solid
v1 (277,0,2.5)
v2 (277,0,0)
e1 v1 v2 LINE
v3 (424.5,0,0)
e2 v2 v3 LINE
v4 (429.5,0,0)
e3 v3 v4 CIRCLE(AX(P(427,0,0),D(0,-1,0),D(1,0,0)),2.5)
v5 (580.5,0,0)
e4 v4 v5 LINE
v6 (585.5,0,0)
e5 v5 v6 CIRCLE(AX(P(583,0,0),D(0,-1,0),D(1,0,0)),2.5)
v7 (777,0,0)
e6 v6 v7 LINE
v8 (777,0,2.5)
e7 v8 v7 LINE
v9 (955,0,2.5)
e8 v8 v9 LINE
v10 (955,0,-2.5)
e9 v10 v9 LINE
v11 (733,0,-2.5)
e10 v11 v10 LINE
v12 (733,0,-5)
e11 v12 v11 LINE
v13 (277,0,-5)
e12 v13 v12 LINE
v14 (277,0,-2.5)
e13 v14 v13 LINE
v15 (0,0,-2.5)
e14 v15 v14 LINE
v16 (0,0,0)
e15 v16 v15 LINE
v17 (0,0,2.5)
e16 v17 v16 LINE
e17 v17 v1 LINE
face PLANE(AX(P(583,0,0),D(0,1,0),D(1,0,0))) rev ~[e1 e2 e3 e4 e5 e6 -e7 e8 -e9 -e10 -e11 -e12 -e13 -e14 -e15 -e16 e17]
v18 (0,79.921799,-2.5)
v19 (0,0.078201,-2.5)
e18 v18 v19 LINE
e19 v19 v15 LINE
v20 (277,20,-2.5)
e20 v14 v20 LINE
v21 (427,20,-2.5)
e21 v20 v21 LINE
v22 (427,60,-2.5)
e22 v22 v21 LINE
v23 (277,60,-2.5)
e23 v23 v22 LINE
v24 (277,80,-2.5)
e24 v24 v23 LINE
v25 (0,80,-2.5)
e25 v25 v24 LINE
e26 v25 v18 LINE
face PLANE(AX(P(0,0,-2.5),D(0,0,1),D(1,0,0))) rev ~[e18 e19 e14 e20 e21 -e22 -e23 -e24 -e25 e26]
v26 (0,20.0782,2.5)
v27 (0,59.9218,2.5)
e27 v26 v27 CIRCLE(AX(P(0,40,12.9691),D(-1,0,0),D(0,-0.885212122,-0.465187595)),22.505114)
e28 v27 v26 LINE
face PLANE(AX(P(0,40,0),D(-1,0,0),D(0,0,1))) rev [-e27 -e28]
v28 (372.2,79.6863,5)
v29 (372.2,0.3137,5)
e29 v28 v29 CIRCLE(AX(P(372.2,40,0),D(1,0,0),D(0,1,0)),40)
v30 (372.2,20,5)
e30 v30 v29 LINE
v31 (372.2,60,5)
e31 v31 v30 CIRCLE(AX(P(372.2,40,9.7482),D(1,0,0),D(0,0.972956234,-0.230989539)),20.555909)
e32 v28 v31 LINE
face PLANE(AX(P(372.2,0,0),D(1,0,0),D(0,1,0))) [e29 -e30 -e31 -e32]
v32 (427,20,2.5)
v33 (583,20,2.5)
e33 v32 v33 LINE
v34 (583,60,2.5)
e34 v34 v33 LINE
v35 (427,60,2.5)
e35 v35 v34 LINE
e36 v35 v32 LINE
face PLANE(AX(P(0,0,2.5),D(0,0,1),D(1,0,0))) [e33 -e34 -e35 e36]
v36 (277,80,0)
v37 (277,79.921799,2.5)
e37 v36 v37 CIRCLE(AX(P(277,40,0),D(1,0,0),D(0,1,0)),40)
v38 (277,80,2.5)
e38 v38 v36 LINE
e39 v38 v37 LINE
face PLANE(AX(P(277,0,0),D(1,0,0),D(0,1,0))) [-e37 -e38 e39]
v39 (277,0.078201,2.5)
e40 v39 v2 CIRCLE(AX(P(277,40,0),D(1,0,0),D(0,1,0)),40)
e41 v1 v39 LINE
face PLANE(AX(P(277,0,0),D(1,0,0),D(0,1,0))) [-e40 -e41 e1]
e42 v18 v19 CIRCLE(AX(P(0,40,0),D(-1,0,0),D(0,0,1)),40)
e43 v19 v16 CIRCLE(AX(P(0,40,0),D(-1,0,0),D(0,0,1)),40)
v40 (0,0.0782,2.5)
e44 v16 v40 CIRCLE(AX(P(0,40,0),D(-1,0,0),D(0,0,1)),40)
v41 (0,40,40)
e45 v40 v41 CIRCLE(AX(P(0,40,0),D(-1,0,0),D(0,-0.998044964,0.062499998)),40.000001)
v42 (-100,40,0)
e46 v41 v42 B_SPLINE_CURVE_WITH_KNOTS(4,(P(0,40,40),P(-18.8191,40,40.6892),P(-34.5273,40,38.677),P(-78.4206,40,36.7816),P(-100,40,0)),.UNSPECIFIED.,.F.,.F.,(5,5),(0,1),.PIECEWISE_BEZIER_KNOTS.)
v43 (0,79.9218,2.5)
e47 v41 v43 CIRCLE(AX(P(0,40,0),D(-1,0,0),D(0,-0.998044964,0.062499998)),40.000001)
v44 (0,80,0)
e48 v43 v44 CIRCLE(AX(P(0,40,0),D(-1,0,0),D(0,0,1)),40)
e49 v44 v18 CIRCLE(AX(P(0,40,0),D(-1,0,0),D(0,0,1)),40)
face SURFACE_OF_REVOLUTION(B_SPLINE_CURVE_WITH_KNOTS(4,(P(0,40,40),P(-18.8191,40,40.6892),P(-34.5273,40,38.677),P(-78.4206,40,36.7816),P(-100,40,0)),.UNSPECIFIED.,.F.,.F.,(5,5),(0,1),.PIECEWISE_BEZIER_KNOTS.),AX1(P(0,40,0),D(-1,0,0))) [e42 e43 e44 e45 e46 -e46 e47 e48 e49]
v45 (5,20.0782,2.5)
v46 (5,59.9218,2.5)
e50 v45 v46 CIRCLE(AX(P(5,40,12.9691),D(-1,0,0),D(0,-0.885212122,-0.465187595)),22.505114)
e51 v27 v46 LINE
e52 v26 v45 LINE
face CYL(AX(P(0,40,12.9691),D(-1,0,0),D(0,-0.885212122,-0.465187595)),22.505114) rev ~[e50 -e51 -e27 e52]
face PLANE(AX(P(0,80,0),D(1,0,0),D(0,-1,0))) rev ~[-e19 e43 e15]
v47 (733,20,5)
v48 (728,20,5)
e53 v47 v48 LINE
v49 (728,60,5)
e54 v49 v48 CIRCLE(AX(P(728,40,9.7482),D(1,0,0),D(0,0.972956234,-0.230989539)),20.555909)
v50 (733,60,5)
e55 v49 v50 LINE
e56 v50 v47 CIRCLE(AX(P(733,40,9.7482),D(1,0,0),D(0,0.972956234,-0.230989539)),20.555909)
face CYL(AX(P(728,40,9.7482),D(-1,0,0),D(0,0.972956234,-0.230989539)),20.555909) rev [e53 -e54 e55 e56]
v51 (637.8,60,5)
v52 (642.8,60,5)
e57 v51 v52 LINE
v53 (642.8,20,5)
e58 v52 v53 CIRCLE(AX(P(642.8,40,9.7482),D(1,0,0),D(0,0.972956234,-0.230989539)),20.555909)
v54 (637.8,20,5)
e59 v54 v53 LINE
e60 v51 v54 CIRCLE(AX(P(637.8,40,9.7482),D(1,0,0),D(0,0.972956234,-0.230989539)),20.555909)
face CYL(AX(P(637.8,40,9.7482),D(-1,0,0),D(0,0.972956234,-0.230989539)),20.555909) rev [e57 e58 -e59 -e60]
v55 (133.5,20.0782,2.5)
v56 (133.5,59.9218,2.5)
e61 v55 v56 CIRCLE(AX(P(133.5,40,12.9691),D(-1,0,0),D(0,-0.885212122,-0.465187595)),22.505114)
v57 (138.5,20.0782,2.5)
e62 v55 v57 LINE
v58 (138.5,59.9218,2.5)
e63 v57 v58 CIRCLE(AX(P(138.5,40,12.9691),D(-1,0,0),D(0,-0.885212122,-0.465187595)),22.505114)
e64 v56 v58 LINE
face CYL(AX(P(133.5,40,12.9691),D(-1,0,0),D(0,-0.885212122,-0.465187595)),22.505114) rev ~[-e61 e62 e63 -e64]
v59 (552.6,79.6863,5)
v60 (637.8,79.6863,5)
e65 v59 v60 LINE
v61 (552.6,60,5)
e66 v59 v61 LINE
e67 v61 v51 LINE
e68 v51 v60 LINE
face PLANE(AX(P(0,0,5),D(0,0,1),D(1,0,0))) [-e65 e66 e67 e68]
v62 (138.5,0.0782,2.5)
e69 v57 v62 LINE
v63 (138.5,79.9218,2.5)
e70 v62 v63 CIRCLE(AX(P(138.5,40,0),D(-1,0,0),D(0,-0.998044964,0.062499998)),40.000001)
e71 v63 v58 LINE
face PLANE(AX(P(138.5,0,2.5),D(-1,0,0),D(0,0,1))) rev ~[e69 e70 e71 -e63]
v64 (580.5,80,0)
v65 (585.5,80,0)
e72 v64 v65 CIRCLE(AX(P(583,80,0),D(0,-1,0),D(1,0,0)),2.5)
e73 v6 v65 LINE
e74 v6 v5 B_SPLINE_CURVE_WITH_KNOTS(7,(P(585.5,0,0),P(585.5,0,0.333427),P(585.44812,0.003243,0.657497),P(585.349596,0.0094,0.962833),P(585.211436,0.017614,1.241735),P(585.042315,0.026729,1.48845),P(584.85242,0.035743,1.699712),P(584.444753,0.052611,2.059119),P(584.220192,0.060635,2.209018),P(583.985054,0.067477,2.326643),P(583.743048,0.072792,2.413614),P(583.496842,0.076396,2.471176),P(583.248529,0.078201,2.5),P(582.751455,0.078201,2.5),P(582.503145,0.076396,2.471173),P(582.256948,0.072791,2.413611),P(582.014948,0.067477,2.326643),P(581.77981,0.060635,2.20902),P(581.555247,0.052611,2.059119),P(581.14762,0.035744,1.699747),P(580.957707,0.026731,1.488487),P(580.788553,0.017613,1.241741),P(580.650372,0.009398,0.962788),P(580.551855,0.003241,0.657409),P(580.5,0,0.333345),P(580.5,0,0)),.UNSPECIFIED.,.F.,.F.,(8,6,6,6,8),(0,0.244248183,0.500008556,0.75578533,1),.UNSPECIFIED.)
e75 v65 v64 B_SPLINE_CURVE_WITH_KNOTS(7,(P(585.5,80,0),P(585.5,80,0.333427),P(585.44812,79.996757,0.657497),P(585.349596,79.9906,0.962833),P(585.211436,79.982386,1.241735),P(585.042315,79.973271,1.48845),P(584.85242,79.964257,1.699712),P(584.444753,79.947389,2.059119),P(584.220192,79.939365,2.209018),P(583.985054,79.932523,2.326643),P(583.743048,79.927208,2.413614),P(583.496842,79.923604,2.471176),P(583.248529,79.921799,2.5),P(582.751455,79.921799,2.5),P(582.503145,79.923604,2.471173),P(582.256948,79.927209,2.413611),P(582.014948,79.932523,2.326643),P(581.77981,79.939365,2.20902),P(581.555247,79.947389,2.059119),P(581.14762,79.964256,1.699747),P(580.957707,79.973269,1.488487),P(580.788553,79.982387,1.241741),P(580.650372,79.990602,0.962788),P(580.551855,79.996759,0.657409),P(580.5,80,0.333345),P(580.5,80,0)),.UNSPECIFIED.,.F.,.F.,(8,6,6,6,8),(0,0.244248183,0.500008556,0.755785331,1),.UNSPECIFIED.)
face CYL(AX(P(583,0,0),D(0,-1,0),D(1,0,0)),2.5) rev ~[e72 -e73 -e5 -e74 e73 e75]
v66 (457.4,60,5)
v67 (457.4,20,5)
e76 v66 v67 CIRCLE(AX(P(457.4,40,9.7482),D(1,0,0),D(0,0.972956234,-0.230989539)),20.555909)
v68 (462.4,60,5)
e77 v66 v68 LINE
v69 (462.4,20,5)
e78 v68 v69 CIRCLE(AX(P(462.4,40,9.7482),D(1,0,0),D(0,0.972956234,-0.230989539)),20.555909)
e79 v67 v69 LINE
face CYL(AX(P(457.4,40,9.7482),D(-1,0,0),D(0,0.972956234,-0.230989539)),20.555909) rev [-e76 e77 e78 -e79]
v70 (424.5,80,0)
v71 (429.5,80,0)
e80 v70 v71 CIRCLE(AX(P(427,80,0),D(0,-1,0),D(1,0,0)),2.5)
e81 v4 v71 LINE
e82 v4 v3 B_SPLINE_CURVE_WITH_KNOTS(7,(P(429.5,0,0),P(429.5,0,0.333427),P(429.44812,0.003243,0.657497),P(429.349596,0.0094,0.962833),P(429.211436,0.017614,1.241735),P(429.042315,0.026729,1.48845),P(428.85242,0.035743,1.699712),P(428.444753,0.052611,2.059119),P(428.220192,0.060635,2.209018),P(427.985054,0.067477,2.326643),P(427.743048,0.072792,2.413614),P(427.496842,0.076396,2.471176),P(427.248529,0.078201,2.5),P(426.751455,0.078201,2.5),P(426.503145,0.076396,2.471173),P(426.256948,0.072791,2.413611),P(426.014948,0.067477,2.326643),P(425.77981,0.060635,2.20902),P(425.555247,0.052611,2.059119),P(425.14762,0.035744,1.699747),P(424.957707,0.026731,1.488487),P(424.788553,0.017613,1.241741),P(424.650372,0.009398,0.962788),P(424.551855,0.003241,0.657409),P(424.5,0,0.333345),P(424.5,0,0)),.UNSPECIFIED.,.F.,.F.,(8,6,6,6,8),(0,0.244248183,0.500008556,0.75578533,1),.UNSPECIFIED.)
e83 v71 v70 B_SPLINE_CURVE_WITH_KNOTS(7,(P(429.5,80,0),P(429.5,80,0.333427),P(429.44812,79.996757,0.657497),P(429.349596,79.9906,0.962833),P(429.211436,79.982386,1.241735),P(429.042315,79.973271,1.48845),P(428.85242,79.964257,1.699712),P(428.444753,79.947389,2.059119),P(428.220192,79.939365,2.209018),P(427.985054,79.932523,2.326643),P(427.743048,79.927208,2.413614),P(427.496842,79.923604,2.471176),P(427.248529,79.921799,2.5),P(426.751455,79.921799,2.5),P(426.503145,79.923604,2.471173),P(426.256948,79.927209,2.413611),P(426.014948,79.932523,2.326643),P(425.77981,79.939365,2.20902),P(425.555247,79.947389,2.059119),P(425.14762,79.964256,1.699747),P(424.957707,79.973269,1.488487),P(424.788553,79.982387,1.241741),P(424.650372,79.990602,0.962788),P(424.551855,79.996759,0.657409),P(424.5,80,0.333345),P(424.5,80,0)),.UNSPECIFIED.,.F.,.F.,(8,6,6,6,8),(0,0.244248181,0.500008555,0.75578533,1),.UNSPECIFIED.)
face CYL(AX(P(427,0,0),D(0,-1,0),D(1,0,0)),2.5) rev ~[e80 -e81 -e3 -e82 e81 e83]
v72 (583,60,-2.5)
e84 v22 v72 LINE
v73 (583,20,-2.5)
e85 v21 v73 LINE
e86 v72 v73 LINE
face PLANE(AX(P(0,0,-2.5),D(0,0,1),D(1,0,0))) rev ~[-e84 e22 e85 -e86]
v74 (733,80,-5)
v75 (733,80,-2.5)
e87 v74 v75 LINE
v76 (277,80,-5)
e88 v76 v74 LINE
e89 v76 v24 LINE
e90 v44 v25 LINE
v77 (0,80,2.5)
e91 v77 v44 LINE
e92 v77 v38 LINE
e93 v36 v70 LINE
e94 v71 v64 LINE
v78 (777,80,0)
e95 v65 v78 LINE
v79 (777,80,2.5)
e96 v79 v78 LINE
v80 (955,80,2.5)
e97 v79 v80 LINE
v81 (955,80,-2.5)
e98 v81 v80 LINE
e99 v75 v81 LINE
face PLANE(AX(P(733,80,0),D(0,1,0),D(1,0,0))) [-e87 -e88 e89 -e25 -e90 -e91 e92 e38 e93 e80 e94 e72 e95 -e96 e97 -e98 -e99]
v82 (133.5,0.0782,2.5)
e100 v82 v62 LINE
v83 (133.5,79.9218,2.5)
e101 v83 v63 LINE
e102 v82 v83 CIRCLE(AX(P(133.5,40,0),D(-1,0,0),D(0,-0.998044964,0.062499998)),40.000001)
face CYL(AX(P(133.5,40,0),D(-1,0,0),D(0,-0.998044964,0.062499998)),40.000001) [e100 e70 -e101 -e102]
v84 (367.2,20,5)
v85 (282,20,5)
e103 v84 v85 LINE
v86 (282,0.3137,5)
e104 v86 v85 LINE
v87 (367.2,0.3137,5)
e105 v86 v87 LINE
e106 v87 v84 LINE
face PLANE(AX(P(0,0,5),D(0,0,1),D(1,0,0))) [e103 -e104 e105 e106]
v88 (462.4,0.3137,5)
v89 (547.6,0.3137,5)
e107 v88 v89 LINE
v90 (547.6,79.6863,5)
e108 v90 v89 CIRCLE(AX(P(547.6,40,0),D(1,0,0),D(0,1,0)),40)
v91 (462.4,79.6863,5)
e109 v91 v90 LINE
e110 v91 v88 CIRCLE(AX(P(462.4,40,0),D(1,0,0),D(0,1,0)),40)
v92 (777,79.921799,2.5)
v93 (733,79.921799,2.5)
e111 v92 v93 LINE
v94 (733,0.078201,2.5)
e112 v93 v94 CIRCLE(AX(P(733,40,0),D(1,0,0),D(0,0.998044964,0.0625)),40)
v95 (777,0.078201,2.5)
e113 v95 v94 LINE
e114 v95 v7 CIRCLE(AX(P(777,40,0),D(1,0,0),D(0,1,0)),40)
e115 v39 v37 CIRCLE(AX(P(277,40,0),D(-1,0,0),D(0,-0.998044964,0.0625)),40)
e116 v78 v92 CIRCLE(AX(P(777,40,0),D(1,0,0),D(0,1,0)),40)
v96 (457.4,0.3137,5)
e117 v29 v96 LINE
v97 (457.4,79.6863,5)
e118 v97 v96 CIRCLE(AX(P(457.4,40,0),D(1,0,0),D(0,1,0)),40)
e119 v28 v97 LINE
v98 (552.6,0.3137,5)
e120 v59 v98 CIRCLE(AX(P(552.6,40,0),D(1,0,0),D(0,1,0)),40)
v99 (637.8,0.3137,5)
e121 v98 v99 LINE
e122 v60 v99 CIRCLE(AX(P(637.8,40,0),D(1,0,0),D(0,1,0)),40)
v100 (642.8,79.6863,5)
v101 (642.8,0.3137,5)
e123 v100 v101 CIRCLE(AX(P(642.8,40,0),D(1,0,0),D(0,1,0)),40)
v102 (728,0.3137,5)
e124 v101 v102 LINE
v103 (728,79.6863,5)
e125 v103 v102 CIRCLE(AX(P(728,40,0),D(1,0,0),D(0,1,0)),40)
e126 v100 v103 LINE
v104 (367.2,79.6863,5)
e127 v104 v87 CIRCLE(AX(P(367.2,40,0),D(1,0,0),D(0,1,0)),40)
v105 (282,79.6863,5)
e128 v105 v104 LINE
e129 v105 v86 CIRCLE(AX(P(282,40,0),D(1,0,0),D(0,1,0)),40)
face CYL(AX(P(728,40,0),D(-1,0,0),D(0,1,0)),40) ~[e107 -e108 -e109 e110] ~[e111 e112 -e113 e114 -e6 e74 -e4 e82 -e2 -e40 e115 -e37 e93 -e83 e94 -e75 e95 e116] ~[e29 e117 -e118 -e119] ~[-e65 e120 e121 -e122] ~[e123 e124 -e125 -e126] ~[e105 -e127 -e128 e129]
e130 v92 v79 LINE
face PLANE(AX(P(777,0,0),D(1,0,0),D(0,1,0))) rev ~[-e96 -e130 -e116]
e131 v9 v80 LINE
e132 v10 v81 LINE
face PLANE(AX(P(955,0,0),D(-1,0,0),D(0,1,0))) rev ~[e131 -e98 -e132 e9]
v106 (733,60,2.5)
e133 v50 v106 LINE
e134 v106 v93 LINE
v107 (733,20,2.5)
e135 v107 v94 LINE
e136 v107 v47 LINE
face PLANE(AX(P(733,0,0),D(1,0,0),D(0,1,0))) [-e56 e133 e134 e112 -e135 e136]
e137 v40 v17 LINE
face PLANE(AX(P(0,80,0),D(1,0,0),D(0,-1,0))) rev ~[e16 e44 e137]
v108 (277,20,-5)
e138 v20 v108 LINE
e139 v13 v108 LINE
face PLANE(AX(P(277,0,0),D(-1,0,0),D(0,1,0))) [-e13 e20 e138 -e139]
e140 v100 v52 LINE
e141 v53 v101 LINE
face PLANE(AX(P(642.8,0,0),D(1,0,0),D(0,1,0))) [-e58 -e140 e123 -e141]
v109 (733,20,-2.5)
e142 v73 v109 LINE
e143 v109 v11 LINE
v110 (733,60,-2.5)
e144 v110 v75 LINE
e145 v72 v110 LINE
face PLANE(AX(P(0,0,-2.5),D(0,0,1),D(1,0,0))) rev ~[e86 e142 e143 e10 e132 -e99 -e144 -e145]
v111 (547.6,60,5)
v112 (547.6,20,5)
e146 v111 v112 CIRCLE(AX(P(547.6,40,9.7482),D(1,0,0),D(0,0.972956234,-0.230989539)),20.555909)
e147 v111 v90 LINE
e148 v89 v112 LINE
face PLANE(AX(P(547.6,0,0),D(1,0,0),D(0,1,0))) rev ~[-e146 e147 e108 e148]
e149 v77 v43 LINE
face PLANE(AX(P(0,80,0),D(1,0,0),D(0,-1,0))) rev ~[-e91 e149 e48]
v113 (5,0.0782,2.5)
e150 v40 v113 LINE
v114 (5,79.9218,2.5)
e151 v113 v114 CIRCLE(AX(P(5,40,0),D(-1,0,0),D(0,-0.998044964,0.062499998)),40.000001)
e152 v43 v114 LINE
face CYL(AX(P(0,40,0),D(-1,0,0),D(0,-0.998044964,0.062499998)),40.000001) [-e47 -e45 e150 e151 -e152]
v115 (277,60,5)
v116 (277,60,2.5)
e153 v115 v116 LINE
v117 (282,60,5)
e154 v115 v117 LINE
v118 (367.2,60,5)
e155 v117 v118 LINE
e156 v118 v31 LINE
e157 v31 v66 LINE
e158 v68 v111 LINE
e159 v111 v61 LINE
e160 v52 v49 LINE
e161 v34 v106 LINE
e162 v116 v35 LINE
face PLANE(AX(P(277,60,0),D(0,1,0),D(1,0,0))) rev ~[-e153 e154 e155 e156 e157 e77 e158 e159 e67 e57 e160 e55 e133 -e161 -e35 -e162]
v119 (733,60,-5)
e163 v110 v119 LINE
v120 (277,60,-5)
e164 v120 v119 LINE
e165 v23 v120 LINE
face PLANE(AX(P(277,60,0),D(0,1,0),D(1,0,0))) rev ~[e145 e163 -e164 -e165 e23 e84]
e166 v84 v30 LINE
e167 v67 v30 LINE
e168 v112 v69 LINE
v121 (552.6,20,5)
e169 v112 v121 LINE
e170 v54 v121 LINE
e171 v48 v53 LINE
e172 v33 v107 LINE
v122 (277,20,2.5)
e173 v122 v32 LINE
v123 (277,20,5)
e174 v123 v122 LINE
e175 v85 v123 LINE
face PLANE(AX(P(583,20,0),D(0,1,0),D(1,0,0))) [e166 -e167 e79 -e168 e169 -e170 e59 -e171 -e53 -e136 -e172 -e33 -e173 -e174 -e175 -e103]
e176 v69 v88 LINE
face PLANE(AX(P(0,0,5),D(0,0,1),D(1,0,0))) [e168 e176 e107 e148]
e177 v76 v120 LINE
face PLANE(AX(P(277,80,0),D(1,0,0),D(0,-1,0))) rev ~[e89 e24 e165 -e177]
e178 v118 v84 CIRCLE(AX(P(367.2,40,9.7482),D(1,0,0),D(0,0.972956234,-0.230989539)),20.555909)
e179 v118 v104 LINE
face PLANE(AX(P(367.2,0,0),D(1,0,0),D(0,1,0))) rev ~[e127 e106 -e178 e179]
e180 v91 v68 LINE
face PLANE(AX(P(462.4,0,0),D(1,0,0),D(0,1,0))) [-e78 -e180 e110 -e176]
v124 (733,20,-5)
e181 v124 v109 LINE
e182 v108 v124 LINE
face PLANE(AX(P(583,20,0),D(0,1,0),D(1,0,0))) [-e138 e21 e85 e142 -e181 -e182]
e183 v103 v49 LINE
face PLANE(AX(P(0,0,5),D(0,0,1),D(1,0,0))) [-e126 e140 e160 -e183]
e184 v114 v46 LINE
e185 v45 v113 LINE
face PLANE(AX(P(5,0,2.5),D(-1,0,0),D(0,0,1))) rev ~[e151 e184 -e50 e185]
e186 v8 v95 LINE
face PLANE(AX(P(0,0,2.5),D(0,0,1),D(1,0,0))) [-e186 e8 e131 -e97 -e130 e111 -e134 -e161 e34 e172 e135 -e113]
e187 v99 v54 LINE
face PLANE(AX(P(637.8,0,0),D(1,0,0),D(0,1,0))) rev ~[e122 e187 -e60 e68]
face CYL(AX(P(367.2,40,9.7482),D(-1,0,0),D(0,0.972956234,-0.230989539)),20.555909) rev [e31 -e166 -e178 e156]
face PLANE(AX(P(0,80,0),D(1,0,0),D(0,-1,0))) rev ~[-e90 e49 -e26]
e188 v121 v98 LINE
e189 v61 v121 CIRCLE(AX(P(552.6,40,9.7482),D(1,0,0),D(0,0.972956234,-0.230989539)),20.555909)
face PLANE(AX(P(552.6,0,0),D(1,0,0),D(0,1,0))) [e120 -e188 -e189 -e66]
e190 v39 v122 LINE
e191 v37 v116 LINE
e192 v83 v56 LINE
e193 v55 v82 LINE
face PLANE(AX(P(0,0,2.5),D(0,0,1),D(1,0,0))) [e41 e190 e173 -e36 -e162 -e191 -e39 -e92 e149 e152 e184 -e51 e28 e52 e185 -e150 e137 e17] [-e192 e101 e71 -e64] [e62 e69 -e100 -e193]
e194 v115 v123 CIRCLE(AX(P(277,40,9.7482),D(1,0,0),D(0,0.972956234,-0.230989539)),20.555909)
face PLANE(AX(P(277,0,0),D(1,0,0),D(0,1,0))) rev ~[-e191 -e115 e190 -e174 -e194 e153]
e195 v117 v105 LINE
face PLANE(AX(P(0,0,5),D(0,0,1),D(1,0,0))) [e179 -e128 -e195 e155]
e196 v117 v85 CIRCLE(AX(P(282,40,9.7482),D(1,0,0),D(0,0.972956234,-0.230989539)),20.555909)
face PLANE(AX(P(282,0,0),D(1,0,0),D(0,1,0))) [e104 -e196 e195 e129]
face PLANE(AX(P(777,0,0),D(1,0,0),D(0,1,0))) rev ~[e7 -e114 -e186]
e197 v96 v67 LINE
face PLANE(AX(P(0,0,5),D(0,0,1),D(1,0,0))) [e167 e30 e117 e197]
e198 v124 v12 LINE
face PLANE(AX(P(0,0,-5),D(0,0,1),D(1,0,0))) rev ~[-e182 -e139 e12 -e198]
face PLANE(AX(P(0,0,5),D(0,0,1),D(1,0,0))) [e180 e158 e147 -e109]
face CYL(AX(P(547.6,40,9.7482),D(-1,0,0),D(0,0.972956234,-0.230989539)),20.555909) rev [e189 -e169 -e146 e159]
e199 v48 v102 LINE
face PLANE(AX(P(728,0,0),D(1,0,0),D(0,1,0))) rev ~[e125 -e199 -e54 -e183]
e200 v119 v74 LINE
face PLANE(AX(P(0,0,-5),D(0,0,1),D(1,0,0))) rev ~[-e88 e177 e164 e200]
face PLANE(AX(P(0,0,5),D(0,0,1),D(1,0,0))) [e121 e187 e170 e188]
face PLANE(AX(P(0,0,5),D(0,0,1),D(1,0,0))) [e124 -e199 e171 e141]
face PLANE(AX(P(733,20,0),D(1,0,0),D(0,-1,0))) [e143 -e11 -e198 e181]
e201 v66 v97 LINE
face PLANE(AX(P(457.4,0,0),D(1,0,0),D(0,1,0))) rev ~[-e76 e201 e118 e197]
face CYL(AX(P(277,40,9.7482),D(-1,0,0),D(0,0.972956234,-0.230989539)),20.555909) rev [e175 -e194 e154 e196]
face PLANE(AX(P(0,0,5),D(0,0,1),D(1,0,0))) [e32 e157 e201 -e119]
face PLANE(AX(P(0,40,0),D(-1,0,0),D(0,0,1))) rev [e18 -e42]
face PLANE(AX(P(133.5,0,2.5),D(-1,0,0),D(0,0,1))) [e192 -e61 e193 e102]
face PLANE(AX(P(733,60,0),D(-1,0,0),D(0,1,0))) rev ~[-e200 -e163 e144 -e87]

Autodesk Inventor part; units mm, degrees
ref_plane "XY Plane" through (0, 0, 0) normal (0, 0, 1) x (1, 0, 0)
sketch "Sketch1" plane through (0, 0, 0) normal (0, 0, 1) x (1, 0, 0)
  line L0 (955, 0) -> (955, 80)
  line L1 (0, 80) -> (0, 0)
  line L2 (277, 0) -> (277, 20)
  line L3 (277, 20) -> (733, 20)
  line L4 (733, 20) -> (733, 0)
  line L5 (277, 80) -> (277, 60)
  line L6 (277, 60) -> (733, 60)
  line L7 (733, 60) -> (733, 80)
  line L8 (0, 80) -> (955, 80)
  line L9 (427, 0) -> (427, 20)
  line L10 (583, 0) -> (583, 20)
  line L11 (0, 0) -> (955, 0)
  line L12 (277, 0) -> (733, 0)
  line L13 (733, 80) -> (277, 80)
  dimension "d0" = 955
  dimension "d1" = 80
  dimension "d2" = 277
  dimension "d3" = 20
  dimension "d4" = 456
  dimension "d5" = 150
  dimension "d6" = 150
extrude "Extrusion1" add sketch "Sketch1" along normal mid plane 5 contours L11 L4 L3 L2 L1 L8 L5 L6 L7 L0
extrude "Extrusion2" add sketch "Sketch1" along normal mid plane 10 contours L11 L10 L3 L4 | L7 L6 L5 L8 | L11 L9 L3 L10 | L11 L2 L3 L9
sketch "Sketch3" plane through (0, 0, 2.5) normal (-1, 0, 0) x (0, 0, 1)
  line L0 (-5, 0) -> (-5, 80) projected
  arc A0 (0, 0.0782) -> (0, 79.9218) centre (-2.5, 40) ccw
  arc A1 (0, 20.0782) -> (0, 59.9218) centre (10.4691, 40) ccw
  line L1 (0, 79.9218) -> (0, 59.9218)
  line L2 (0, 20.0782) -> (0, 0.0782)
  point P0 (-2.5, 0)
  dimension "d18" = 20
  dimension "d19" = 20
extrude "Extrusion4" add sketch "Sketch3" against normal blind 5
pattern_linear "Rectangular Pattern1" count 2 spacing 133.5 along (1, 0, 0) of "Extrusion4"
ref_plane "Work Plane1" through (277, 0, 0) normal (1, 0, 0) x (0, 1, 0)
sketch "Sketch4" plane through (277, 0, 0) normal (1, 0, 0) x (0, 1, 0)
  line L0 (80, 2.5) -> (80, -2.5) projected
  line L1 (80, -5) -> (80, -2.5) projected
  line L2 (80, -2.5) -> (80, -5) projected
  line L3 (80, 2.5) -> (80, -2.5) projected
  line L4 (80, 5) -> (80, 2.5) projected
  line L5 (80, 2.5) -> (80, 5) projected
  line L6 (0, 2.5) -> (0, -2.5) projected
  line L7 (0, 5) -> (0, 2.5) projected
  line L8 (0, 2.5) -> (0, 5) projected
  line L9 (0, -2.5) -> (0, 2.5) projected
  line L10 (0, -5) -> (0, -2.5) projected
  line L11 (0, -2.5) -> (0, -5) projected
  line L12 (80, 5) -> (60, 5) projected
  line L13 (60, 5) -> (80, 5) projected
  line L14 (20, 5) -> (0, 5) projected
  line L15 (0, 5) -> (20, 5) projected
  line L16 (60, 2.5) -> (60, 5) projected
  line L17 (60, 2.5) -> (60, 5) projected
  line L18 (20, 5) -> (20, 2.5) projected
  line L19 (20, 5) -> (20, 2.5) projected
  line L20 (78.7298, 5) -> (60, 5)
  line L21 (20, 5) -> (0.9311, 5)
  line L22 (20, 5) -> (20, 2.5)
  line L23 (60, 5) -> (60, 2.5)
  arc A0 (60, 5) -> (20, 5) centre (40, 9.7482) ccw
  line L24 (20, -2.5) -> (20, -5) projected
  line L25 (20, -2.5) -> (20, -5) projected
  line L26 (60, -5) -> (60, -2.5) projected
  line L27 (60, -5) -> (60, -2.5) projected
  arc A1 (80, 0) -> (0, 0) centre (40, 0) ccw
  line L28 (79.6863, 5) -> (60, 5)
  line L29 (20, 5) -> (0.3137, 5)
  line L30 (0.3137, 5) -> (0, 5)
  line L31 (0, 5) -> (0, 0)
  line L32 (79.6863, 5) -> (80, 5)
  line L33 (80, 5) -> (80, 0)
  point P0 (80, 5)
  point P1 (80, -5)
  point P2 (0, -5)
  point P3 (0, 5)
  dimension "d26" = 80
extrude "Extrusion5" add sketch "Sketch4" along normal blind 5 contours L12 A0 L14 A1
extrude "Extrusion6" cut sketch "Sketch4" along normal blind 500 contours A1 L6 L7 L14 | L0 A1 L12 L4
sketch "Sketch5" plane through (277, 0, -5) normal (0, -1, 0) x (1, 0, 0)
  circle A0 centre (306, 5) radius 2.5
  circle A1 centre (150, 5) radius 2.5
  point P0 (-277, 5)
  dimension "d33" = 5
  dimension "d34" = 5
extrude "Extrusion7" cut sketch "Sketch5" against normal blind 500
pattern_linear "Rectangular Pattern2" count 6 spacing 90.2 along (1, 0, 0) of "Extrusion5"
ref_plane "Work Plane2" through (0, 40, 0) normal (0, 1, 0) x (-1, 0, 0)
sketch "Sketch6" plane through (0, 40, 0) normal (0, 1, 0) x (-1, 0, 0)
  line L0 (0, -2.5) -> (0, 2.5) projected
  line L1 (0, 2.5) -> (0, 40) projected
  line L2 (0, 0) -> (100, 0)
  spline S0 degree 4 poles (0, 40) (18.8191, 40.6892) (34.5273, 38.677) (78.4206, 36.7816) (100, 0) knots 0 0 0 0 0 1 1 1 1 1
  line L3 (0, 40) -> (0, 0)
  point P0 (13.5096, 40)
  point P1 (31.8449, 38.4324)
  point P2 (61.8997, 30.8714)
  dimension "d41" = 100
revolve "Revolution1" add sketch "Sketch6" angle 360 about axis through (0, 40, 0) along (-1, 0, 0)
properties part number "konstruksi roket"
